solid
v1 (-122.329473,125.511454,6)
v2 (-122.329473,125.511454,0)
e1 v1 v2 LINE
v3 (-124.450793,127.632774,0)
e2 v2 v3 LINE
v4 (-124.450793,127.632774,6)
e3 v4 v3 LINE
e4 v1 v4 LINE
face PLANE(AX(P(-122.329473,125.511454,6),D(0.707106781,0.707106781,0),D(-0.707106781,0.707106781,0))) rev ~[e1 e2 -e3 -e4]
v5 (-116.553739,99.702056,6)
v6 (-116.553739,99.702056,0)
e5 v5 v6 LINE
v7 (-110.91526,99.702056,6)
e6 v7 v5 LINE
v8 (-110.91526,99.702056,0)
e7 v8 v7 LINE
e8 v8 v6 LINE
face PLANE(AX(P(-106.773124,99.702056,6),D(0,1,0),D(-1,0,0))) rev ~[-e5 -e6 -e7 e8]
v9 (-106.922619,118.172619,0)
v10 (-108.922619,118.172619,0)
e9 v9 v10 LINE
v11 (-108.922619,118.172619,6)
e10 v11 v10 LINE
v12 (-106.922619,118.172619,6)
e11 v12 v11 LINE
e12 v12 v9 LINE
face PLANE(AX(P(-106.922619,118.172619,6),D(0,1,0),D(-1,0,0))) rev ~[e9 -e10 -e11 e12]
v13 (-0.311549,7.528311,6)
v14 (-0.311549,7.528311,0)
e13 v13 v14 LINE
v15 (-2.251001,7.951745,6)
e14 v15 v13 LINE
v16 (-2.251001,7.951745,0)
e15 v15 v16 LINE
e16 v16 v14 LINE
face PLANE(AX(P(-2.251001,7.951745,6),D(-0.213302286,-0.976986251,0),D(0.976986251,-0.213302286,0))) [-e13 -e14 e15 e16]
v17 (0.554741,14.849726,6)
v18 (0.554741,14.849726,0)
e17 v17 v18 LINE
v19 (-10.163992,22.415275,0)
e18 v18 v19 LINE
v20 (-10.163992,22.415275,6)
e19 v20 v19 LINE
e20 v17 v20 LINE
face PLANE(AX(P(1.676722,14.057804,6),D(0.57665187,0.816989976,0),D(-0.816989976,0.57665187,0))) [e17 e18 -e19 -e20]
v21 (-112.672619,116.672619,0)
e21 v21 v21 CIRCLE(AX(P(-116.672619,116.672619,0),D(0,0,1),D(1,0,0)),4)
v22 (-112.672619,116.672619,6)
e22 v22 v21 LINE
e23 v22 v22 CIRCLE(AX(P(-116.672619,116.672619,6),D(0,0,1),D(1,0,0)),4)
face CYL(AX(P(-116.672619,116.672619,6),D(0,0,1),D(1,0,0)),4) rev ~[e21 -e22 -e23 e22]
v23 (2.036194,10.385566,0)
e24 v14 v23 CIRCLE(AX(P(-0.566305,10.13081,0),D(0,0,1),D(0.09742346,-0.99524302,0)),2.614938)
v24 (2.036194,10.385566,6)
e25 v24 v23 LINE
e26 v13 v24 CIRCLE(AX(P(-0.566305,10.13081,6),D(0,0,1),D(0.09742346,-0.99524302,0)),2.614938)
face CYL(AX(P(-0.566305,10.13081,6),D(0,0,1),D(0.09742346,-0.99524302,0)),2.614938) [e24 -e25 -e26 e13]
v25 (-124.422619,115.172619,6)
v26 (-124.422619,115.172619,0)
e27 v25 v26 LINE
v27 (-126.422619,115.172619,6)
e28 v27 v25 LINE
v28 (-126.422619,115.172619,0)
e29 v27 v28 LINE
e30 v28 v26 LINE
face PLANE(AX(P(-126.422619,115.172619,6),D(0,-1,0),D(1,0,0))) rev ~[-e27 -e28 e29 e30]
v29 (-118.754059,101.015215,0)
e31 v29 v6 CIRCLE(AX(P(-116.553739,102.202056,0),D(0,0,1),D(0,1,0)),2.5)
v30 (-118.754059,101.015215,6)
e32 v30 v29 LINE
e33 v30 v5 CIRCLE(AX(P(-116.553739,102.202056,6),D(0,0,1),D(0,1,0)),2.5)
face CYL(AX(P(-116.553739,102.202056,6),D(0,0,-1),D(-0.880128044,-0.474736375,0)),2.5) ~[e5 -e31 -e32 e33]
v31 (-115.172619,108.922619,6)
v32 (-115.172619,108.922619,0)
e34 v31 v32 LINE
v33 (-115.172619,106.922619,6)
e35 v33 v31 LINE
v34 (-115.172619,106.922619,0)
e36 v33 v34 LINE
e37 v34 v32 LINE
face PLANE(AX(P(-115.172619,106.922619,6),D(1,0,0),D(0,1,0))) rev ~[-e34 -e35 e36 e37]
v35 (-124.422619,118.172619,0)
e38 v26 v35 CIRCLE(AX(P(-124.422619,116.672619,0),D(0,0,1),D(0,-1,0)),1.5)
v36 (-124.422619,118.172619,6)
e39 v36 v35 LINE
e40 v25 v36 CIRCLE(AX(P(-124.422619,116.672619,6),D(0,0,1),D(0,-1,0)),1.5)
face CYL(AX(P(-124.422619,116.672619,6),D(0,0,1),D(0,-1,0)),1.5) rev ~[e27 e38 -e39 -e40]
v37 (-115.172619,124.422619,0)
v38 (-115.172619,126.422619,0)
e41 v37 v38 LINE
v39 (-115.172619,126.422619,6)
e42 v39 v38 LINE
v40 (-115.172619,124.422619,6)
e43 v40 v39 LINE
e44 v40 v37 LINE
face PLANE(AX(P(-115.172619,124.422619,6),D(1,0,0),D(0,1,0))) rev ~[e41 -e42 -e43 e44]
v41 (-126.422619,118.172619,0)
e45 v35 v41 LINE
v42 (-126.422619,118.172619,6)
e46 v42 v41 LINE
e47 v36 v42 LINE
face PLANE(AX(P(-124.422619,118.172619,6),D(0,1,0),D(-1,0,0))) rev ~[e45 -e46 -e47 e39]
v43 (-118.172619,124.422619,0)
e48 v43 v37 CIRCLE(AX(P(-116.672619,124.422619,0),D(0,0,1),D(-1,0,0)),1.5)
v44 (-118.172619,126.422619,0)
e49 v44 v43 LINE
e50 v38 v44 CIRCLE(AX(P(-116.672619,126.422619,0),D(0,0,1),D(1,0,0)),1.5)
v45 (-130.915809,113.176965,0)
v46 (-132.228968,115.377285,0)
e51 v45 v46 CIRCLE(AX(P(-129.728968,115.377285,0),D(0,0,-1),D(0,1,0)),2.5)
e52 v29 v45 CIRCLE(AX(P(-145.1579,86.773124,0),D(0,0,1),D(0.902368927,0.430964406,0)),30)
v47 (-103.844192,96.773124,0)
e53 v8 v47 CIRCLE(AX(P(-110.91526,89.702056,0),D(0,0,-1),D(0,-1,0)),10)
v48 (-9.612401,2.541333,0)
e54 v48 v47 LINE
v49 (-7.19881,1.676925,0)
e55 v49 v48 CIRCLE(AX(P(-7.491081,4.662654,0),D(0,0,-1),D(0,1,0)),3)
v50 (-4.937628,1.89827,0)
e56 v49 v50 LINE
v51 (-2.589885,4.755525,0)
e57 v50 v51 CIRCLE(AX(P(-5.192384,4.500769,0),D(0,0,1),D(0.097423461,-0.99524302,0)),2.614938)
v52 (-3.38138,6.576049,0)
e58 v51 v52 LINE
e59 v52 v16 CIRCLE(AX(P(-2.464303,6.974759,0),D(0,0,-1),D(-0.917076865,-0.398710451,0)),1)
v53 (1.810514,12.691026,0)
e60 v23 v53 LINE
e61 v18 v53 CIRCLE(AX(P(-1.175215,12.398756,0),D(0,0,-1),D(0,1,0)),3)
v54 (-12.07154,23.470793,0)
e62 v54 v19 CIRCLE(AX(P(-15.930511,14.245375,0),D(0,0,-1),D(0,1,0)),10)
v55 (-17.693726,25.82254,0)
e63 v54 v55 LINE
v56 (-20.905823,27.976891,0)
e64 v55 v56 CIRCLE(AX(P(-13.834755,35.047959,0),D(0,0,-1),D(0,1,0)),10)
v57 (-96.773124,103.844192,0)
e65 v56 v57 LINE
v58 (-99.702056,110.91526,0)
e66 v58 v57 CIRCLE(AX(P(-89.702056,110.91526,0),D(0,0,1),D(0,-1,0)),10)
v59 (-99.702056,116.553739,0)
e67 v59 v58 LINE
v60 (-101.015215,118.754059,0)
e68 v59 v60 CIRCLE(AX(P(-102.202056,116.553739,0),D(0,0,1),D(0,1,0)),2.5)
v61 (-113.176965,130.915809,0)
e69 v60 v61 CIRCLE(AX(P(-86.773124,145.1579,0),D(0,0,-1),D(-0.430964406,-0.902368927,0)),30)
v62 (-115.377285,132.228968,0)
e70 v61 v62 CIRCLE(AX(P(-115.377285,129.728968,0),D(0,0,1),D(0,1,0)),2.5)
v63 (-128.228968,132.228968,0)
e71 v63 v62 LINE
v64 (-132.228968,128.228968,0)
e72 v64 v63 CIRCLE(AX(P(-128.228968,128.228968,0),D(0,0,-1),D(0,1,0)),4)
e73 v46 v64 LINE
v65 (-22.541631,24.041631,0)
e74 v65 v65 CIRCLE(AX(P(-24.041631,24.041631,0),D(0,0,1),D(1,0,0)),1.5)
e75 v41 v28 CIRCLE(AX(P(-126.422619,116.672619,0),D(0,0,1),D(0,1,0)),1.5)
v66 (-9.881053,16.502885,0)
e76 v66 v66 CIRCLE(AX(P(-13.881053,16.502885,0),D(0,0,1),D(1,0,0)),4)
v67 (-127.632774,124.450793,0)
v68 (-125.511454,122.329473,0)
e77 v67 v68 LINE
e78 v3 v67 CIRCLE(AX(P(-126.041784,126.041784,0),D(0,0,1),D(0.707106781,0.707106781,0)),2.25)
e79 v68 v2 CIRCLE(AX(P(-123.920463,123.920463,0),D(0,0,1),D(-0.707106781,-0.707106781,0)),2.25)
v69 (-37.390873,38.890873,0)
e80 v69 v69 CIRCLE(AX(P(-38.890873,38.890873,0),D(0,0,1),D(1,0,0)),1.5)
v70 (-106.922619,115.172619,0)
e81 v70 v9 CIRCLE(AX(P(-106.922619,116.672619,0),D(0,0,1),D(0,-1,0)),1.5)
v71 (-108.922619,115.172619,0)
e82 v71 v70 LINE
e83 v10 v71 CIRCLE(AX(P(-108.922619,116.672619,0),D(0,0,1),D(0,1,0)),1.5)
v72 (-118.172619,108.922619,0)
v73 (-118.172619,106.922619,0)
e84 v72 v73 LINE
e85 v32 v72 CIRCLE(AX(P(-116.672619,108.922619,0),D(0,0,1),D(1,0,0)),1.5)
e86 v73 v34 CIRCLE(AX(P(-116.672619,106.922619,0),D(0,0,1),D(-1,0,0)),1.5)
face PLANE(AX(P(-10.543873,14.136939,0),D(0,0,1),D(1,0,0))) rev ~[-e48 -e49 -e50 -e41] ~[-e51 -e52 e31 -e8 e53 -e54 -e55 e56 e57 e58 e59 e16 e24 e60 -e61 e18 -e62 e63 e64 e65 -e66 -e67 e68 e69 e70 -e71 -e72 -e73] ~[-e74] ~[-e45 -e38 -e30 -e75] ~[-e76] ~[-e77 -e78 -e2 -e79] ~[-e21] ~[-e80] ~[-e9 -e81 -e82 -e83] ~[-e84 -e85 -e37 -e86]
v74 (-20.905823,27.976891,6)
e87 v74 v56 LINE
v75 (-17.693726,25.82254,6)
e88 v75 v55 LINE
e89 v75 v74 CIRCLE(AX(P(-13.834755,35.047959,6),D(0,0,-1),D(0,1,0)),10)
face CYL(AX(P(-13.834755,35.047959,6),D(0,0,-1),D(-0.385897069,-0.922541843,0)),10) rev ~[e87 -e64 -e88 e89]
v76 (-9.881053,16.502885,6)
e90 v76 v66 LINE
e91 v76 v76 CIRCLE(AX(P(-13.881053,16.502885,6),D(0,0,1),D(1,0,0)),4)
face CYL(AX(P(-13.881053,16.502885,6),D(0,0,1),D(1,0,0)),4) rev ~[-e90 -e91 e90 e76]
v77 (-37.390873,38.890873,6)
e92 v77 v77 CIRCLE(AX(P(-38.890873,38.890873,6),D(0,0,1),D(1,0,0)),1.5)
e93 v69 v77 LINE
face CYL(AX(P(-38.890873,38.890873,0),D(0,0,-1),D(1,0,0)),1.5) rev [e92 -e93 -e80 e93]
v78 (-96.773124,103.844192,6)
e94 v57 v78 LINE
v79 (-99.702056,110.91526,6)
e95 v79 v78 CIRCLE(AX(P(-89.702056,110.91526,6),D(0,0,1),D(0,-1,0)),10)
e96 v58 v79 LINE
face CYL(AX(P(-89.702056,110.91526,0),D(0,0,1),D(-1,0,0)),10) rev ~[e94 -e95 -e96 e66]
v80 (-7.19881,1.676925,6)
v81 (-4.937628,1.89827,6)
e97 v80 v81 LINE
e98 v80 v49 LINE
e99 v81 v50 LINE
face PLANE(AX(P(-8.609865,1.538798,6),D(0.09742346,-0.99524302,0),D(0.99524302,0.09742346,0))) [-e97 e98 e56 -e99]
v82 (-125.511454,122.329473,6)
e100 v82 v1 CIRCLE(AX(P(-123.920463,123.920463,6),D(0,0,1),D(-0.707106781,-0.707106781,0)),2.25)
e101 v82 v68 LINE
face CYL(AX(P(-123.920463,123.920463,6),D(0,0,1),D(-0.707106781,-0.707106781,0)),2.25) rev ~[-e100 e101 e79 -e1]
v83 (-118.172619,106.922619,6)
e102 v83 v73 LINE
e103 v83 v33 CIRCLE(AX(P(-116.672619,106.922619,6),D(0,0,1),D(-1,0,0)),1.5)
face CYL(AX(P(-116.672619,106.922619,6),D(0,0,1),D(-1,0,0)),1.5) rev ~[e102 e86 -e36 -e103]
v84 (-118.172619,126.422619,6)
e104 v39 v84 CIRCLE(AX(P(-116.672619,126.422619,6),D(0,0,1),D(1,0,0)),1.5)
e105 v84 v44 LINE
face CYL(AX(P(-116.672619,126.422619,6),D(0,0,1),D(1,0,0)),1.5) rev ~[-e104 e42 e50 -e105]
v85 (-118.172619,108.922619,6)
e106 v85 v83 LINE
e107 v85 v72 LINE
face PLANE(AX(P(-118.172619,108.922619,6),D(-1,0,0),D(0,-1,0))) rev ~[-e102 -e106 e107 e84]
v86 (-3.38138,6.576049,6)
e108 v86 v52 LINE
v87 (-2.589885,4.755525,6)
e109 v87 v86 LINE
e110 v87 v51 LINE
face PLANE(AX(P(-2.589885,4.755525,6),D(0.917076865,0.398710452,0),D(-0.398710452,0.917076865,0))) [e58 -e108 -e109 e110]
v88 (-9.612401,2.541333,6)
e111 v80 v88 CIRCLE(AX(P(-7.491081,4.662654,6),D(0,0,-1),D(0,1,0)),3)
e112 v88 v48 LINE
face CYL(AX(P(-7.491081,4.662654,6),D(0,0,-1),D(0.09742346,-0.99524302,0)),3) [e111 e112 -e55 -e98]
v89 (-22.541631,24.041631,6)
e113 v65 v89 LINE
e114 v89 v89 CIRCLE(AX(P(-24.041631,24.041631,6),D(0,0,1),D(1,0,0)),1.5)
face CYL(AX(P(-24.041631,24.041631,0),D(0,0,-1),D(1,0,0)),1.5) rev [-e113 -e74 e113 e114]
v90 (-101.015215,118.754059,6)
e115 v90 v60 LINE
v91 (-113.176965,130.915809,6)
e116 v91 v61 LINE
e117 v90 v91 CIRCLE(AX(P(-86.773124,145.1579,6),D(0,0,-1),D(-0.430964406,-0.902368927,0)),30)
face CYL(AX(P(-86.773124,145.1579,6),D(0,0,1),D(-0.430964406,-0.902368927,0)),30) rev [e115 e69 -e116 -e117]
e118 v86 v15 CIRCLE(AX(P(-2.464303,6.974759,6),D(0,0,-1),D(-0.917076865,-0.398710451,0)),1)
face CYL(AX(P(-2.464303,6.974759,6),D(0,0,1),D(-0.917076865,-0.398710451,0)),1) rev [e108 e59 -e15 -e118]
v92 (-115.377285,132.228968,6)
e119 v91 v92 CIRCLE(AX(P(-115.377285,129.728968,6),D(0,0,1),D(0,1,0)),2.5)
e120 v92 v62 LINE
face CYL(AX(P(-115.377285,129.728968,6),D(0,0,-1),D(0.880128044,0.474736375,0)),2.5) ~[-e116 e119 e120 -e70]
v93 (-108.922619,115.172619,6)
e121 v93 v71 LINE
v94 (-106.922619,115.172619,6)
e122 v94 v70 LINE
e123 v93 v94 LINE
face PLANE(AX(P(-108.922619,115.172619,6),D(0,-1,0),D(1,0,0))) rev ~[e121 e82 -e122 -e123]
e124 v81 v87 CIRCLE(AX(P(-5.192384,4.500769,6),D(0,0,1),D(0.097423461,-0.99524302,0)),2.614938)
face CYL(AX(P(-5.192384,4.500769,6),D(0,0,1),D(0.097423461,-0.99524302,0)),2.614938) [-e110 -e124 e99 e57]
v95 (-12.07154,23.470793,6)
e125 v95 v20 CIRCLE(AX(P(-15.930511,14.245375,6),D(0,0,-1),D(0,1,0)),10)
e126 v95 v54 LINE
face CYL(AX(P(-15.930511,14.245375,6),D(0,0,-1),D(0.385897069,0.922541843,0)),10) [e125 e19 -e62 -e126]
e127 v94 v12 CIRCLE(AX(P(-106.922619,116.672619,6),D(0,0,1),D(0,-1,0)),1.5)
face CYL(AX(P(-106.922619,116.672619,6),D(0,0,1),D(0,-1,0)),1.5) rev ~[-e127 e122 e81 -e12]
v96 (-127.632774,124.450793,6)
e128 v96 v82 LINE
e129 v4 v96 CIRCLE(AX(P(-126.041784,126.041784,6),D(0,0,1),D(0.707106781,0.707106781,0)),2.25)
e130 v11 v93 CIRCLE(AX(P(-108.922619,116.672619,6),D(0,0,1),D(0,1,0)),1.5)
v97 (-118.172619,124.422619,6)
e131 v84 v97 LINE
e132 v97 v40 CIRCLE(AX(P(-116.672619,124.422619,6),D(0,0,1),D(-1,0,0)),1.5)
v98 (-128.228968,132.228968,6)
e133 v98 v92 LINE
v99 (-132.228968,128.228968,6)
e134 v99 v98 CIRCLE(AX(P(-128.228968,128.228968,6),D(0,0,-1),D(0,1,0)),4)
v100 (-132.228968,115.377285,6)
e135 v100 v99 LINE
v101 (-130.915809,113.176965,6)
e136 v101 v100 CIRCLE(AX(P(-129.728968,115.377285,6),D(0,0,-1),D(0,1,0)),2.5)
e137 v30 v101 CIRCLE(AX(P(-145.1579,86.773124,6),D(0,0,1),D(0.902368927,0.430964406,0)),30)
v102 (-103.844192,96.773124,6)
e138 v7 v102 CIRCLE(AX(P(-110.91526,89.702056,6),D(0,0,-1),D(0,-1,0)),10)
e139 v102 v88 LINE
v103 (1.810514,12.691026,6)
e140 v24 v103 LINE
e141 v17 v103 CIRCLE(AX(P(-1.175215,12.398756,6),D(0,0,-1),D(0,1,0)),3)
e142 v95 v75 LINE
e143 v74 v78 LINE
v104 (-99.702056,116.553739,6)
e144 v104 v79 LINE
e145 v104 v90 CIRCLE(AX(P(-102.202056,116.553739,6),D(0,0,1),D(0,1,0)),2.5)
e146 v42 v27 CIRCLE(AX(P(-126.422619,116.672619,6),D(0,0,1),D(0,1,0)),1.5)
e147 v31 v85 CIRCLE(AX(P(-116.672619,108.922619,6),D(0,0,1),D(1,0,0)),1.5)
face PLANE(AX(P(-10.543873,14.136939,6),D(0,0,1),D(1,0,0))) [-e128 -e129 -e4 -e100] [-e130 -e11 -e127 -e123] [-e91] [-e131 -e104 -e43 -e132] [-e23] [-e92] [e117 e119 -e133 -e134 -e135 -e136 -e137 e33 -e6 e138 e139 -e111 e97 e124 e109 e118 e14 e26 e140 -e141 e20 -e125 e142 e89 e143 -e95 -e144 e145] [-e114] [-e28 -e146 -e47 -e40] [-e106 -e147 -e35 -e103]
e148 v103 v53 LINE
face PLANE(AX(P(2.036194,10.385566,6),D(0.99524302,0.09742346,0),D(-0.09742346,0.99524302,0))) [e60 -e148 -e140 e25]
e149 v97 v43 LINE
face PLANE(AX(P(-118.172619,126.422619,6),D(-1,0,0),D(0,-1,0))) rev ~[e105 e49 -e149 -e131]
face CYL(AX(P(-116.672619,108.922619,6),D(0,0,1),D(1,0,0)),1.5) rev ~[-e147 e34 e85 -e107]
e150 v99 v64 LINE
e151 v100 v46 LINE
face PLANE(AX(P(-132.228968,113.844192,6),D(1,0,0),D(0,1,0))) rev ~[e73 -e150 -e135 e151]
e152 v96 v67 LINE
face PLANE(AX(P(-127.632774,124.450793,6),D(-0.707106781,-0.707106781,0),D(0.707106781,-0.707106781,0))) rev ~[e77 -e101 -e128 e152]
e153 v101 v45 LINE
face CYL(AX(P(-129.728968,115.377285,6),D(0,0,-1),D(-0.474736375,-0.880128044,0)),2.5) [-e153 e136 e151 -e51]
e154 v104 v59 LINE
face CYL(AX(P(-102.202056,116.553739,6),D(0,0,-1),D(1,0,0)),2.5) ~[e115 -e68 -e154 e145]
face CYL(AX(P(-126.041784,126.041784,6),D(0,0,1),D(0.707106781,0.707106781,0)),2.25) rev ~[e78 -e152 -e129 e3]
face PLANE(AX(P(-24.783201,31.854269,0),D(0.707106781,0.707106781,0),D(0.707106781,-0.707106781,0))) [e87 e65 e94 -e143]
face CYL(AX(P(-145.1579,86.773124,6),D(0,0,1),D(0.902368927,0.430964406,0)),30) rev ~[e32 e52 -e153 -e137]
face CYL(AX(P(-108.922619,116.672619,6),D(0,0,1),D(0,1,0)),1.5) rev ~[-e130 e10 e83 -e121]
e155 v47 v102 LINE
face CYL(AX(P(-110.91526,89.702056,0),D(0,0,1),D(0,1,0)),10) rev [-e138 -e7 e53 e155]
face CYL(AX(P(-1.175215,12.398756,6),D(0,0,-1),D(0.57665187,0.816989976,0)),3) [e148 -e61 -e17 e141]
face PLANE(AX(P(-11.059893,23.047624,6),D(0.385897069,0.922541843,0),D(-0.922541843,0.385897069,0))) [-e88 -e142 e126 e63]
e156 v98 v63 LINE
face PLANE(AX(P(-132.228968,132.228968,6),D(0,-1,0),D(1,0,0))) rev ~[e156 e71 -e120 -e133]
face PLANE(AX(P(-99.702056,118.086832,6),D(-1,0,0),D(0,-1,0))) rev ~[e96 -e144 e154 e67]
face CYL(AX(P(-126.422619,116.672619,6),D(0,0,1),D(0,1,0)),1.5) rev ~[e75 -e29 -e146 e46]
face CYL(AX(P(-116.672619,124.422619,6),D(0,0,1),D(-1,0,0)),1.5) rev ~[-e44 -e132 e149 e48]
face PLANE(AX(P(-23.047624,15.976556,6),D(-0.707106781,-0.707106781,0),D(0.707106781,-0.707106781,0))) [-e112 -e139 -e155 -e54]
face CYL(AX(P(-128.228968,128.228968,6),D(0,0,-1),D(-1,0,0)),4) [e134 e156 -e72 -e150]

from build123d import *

# Parameters (mm, degrees)
CROQUIS1_R              = 1.5
CROQUIS1_R_2            = 4
SALIENTE_EXTRUIR1_DEPTH = 6
CROQUIS4_R              = 4
SALIENTE_EXTRUIR3_DEPTH = 6
CORTAR_EXTRUIR1_DEPTH   = 6
REDONDEO3_R             = 4
CORTAR_EXTRUIR2_DEPTH   = 6
REDONDEO4_R             = 2.5
REDONDEO6_R             = 10
CORTAR_EXTRUIR3_START   = -6
CROQUIS9_R              = 4
CORTAR_EXTRUIR3_DEPTH   = 6
CROQUIS15_R             = 4
SALIENTE_EXTRUIR4_DEPTH = 6
REDONDEO12_R            = 10
REDONDEO13_R            = 3


with BuildPart() as part:
    # Croquis1 → Saliente-Extruir1 (new body)
    with BuildSketch(Plane.XY):
        with BuildLine():
            Line((-17.112213819, 2.294275414), (-30.516043414, 23.123582692))
            ThreePointArc((-30.516043414, 23.123582692), (-31.14080226, 23.989156666), (-31.854269143, 24.783201331))
            Line((-31.854269143, 24.783201331), (-45.961940777, 38.890872965))
            Line((-45.961940777, 38.890872965), (-106.773123959, 99.702056147))
            Line((-106.773123959, 99.702056147), (-99.702056147, 106.773123959))
            Line((-99.702056147, 106.773123959), (-38.890872965, 45.961940777))
            Line((-38.890872965, 45.961940777), (-24.783201331, 31.854269143))
            ThreePointArc((-24.783201331, 31.854269143), (-23.989156666, 31.14080226), (-23.123582692, 30.516043414))
            Line((-23.123582692, 30.516043414), (-2.294275414, 17.112213819))
            ThreePointArc((-2.294275414, 17.112213819), (-0.610887166, 15.302496804), (0, 12.907567049))
            Line((0, 12.907567049), (0, 7.055686841))
            ThreePointArc((0, 7.055686841), (-0.823113423, 5.438609853), (-2.614937985, 5.15257064))
            Line((-2.614937985, 5.15257064), (-4.503911831, 5.762938925))
            ThreePointArc((-4.503911831, 5.762938925), (-5.518487605, 5.518487605), (-5.762938925, 4.503911831))
            Line((-5.762938925, 4.503911831), (-5.15257064, 2.614937985))
            ThreePointArc((-5.15257064, 2.614937985), (-5.438609853, 0.823113423), (-7.055686841, 0))
            Line((-7.055686841, 0), (-12.907567049, 0))
            ThreePointArc((-12.907567049, 0), (-15.302496804, 0.610887166), (-17.112213819, 2.294275414))
        make_face()
        with Locations((-38.890872965, 38.890872965)):
            Circle(CROQUIS1_R, mode=Mode.SUBTRACT)
        with Locations((-24.04163056, 24.04163056)):
            Circle(CROQUIS1_R, mode=Mode.SUBTRACT)
        with Locations((-15.25, 15.25)):
            Circle(CROQUIS1_R_2, mode=Mode.SUBTRACT)
    extrude(amount=SALIENTE_EXTRUIR1_DEPTH)

    # Croquis4 → Saliente-Extruir3 (add)
    with BuildSketch(Plane.XY.offset(6)):
        Polygon((-106.773123959, 99.702056147), (-118.086832458, 99.702056147), (-132.228968082, 113.844191771), (-132.228968082, 132.228968082), (-113.844191771, 132.228968082), (-99.702056147, 118.086832458), (-99.702056147, 106.773123959), align=None)
        with Locations((-116.672618896, 116.672618896)):
            Circle(CROQUIS4_R, mode=Mode.SUBTRACT)
    extrude(amount=-SALIENTE_EXTRUIR3_DEPTH)

    # Croquis5 → Cortar-Extruir1 (cut)
    with BuildSketch(Plane.XY.offset(6)):
        with BuildLine():
            Line((-127.632774004, 124.450793489), (-125.511453661, 122.329473145))
            ThreePointArc((-125.511453661, 122.329473145), (-122.329473145, 122.329473145), (-122.329473145, 125.511453661))
            Line((-122.329473145, 125.511453661), (-124.450793489, 127.632774004))
            ThreePointArc((-124.450793489, 127.632774004), (-127.632774004, 127.632774004), (-127.632774004, 124.450793489))
        make_face()
        with BuildLine():
            Line((-118.172618896, 108.922618896), (-118.172618896, 106.922618896))
            ThreePointArc((-118.172618896, 106.922618896), (-116.672618896, 105.422618896), (-115.172618896, 106.922618896))
            Line((-115.172618896, 106.922618896), (-115.172618896, 108.922618896))
            ThreePointArc((-115.172618896, 108.922618896), (-116.672618896, 110.422618896), (-118.172618896, 108.922618896))
        make_face()
        with BuildLine():
            Line((-108.922618896, 115.172618896), (-106.922618896, 115.172618896))
            ThreePointArc((-106.922618896, 115.172618896), (-105.422618896, 116.672618896), (-106.922618896, 118.172618896))
            Line((-106.922618896, 118.172618896), (-108.922618896, 118.172618896))
            ThreePointArc((-108.922618896, 118.172618896), (-110.422618896, 116.672618896), (-108.922618896, 115.172618896))
        make_face()
        with BuildLine():
            Line((-124.422618896, 118.172618896), (-126.422618896, 118.172618896))
            ThreePointArc((-126.422618896, 118.172618896), (-127.922618896, 116.672618896), (-126.422618896, 115.172618896))
            Line((-126.422618896, 115.172618896), (-124.422618896, 115.172618896))
            ThreePointArc((-124.422618896, 115.172618896), (-122.922618896, 116.672618896), (-124.422618896, 118.172618896))
        make_face()
        with BuildLine():
            Line((-115.172618896, 124.422618896), (-115.172618896, 126.422618896))
            ThreePointArc((-115.172618896, 126.422618896), (-116.672618896, 127.922618896), (-118.172618896, 126.422618896))
            Line((-118.172618896, 126.422618896), (-118.172618896, 124.422618896))
            ThreePointArc((-118.172618896, 124.422618896), (-116.672618896, 122.922618896), (-115.172618896, 124.422618896))
        make_face()
    extrude(amount=-CORTAR_EXTRUIR1_DEPTH, mode=Mode.SUBTRACT)

    # Redondeo3
    redondeo3_edges = [part.edges().sort_by_distance(p)[0] for p in [
        (-132.228968082, 132.228968082, 3),
    ]]
    fillet(redondeo3_edges, radius=REDONDEO3_R)

    # Croquis7 → Cortar-Extruir2 (cut)
    with BuildSketch(Plane.XY.offset(6)):
        with BuildLine():
            Line((-132.228968082, 113.844191771), (-118.086832458, 99.702056147))
            ThreePointArc((-118.086832458, 99.702056147), (-123.944696834, 107.986327395), (-132.228968082, 113.844191771))
        make_face()
        with BuildLine():
            Line((-113.844191771, 132.228968082), (-99.702056147, 118.086832458))
            ThreePointArc((-99.702056147, 118.086832458), (-107.986327395, 123.944696834), (-113.844191771, 132.228968082))
        make_face()
    extrude(amount=-CORTAR_EXTRUIR2_DEPTH, mode=Mode.SUBTRACT)

    # Redondeo4
    redondeo4_edges = [part.edges().sort_by_distance(p)[0] for p in [
        (-118.086832458, 99.702056147, 3),
        (-132.228968082, 113.844191771, 3),
        (-113.844191771, 132.228968082, 3),
        (-99.702056147, 118.086832458, 3),
    ]]
    fillet(redondeo4_edges, radius=REDONDEO4_R)

    # Redondeo6
    redondeo6_edges = [part.edges().sort_by_distance(p)[0] for p in [
        (-106.773123959, 99.702056147, 3),
        (-99.702056147, 106.773123959, 3),
    ]]
    fillet(redondeo6_edges, radius=REDONDEO6_R)

    # Croquis9 → Cortar-Extruir3 (cut)
    with BuildSketch(Plane.XY.offset(6).offset(CORTAR_EXTRUIR3_START)):
        with BuildLine():
            Line((-23.047623594, 15.976555782), (-31.854269143, 24.783201331))
            ThreePointArc((-31.854269143, 24.783201331), (-31.14080226, 23.989156666), (-30.516043414, 23.123582692))
            Line((-30.516043414, 23.123582692), (-17.112213819, 2.294275414))
            ThreePointArc((-17.112213819, 2.294275414), (-15.302496804, 0.610887166), (-12.907567049, 0))
            Line((-12.907567049, 0), (-7.055686841, 0))
            ThreePointArc((-7.055686841, 0), (-5.438609853, 0.823113423), (-5.15257064, 2.614937985))
            Line((-5.15257064, 2.614937985), (-5.762938925, 4.503911831))
            ThreePointArc((-5.762938925, 4.503911831), (-5.518487605, 5.518487605), (-4.503911831, 5.762938925))
            Line((-4.503911831, 5.762938925), (-2.614937985, 5.15257064))
            ThreePointArc((-2.614937985, 5.15257064), (-0.823113423, 5.438609853), (0, 7.055686841))
            Line((0, 7.055686841), (0, 12.907567049))
            ThreePointArc((0, 12.907567049), (-0.610887166, 15.302496804), (-2.294275414, 17.112213819))
            Line((-2.294275414, 17.112213819), (-23.123582692, 30.516043414))
            ThreePointArc((-23.123582692, 30.516043414), (-23.989156666, 31.14080226), (-24.783201331, 31.854269143))
            Line((-24.783201331, 31.854269143), (-15.976555782, 23.047623594))
            Line((-15.976555782, 23.047623594), (-23.047623594, 15.976555782))
        make_face()
        with Locations((-15.25, 15.25)):
            Circle(CROQUIS9_R, mode=Mode.SUBTRACT)
    extrude(amount=CORTAR_EXTRUIR3_DEPTH, mode=Mode.SUBTRACT)

    # Croquis15 → Saliente-Extruir4 (add)
    with BuildSketch(Plane.XY.offset(6)):
        with BuildLine():
            Line((-19.512089688, 26.5831575), (-15.976555782, 23.047623594))
            Line((-15.976555782, 23.047623594), (-23.047623594, 15.976555782))
            Line((-23.047623594, 15.976555782), (-8.609865422, 1.53879761))
            Line((-8.609865422, 1.53879761), (-4.93762751, 1.898269736))
            ThreePointArc((-4.93762751, 1.898269736), (-3.171999371, 2.840663892), (-2.589885038, 4.755524821))
            Line((-2.589885038, 4.755524821), (-3.381380182, 6.576048667))
            ThreePointArc((-3.381380182, 6.576048667), (-3.236935195, 7.609613418), (-2.251001031, 7.95174537))
            Line((-2.251001031, 7.95174537), (-0.311548805, 7.528310963))
            ThreePointArc((-0.311548805, 7.528310963), (1.454079334, 8.470705119), (2.036193666, 10.385566048))
            Line((2.036193666, 10.385566048), (1.676721541, 14.05780396))
            Line((1.676721541, 14.05780396), (-11.059892894, 23.047623594))
            Line((-11.059892894, 23.047623594), (-19.512089688, 26.5831575))
        make_face()
        with Locations((-13.881053208, 16.502885084)):
            Circle(CROQUIS15_R, mode=Mode.SUBTRACT)
    extrude(amount=-SALIENTE_EXTRUIR4_DEPTH)

    # Redondeo12
    redondeo12_edges = [part.edges().sort_by_distance(p)[0] for p in [
        (-19.512089688, 26.5831575, 3),
        (-11.059892894, 23.047623594, 3),
    ]]
    fillet(redondeo12_edges, radius=REDONDEO12_R)

    # Redondeo13
    redondeo13_edges = [part.edges().sort_by_distance(p)[0] for p in [
        (-8.609865422, 1.53879761, 3),
        (1.676721541, 14.05780396, 3),
    ]]
    fillet(redondeo13_edges, radius=REDONDEO13_R)


solid = part.part
